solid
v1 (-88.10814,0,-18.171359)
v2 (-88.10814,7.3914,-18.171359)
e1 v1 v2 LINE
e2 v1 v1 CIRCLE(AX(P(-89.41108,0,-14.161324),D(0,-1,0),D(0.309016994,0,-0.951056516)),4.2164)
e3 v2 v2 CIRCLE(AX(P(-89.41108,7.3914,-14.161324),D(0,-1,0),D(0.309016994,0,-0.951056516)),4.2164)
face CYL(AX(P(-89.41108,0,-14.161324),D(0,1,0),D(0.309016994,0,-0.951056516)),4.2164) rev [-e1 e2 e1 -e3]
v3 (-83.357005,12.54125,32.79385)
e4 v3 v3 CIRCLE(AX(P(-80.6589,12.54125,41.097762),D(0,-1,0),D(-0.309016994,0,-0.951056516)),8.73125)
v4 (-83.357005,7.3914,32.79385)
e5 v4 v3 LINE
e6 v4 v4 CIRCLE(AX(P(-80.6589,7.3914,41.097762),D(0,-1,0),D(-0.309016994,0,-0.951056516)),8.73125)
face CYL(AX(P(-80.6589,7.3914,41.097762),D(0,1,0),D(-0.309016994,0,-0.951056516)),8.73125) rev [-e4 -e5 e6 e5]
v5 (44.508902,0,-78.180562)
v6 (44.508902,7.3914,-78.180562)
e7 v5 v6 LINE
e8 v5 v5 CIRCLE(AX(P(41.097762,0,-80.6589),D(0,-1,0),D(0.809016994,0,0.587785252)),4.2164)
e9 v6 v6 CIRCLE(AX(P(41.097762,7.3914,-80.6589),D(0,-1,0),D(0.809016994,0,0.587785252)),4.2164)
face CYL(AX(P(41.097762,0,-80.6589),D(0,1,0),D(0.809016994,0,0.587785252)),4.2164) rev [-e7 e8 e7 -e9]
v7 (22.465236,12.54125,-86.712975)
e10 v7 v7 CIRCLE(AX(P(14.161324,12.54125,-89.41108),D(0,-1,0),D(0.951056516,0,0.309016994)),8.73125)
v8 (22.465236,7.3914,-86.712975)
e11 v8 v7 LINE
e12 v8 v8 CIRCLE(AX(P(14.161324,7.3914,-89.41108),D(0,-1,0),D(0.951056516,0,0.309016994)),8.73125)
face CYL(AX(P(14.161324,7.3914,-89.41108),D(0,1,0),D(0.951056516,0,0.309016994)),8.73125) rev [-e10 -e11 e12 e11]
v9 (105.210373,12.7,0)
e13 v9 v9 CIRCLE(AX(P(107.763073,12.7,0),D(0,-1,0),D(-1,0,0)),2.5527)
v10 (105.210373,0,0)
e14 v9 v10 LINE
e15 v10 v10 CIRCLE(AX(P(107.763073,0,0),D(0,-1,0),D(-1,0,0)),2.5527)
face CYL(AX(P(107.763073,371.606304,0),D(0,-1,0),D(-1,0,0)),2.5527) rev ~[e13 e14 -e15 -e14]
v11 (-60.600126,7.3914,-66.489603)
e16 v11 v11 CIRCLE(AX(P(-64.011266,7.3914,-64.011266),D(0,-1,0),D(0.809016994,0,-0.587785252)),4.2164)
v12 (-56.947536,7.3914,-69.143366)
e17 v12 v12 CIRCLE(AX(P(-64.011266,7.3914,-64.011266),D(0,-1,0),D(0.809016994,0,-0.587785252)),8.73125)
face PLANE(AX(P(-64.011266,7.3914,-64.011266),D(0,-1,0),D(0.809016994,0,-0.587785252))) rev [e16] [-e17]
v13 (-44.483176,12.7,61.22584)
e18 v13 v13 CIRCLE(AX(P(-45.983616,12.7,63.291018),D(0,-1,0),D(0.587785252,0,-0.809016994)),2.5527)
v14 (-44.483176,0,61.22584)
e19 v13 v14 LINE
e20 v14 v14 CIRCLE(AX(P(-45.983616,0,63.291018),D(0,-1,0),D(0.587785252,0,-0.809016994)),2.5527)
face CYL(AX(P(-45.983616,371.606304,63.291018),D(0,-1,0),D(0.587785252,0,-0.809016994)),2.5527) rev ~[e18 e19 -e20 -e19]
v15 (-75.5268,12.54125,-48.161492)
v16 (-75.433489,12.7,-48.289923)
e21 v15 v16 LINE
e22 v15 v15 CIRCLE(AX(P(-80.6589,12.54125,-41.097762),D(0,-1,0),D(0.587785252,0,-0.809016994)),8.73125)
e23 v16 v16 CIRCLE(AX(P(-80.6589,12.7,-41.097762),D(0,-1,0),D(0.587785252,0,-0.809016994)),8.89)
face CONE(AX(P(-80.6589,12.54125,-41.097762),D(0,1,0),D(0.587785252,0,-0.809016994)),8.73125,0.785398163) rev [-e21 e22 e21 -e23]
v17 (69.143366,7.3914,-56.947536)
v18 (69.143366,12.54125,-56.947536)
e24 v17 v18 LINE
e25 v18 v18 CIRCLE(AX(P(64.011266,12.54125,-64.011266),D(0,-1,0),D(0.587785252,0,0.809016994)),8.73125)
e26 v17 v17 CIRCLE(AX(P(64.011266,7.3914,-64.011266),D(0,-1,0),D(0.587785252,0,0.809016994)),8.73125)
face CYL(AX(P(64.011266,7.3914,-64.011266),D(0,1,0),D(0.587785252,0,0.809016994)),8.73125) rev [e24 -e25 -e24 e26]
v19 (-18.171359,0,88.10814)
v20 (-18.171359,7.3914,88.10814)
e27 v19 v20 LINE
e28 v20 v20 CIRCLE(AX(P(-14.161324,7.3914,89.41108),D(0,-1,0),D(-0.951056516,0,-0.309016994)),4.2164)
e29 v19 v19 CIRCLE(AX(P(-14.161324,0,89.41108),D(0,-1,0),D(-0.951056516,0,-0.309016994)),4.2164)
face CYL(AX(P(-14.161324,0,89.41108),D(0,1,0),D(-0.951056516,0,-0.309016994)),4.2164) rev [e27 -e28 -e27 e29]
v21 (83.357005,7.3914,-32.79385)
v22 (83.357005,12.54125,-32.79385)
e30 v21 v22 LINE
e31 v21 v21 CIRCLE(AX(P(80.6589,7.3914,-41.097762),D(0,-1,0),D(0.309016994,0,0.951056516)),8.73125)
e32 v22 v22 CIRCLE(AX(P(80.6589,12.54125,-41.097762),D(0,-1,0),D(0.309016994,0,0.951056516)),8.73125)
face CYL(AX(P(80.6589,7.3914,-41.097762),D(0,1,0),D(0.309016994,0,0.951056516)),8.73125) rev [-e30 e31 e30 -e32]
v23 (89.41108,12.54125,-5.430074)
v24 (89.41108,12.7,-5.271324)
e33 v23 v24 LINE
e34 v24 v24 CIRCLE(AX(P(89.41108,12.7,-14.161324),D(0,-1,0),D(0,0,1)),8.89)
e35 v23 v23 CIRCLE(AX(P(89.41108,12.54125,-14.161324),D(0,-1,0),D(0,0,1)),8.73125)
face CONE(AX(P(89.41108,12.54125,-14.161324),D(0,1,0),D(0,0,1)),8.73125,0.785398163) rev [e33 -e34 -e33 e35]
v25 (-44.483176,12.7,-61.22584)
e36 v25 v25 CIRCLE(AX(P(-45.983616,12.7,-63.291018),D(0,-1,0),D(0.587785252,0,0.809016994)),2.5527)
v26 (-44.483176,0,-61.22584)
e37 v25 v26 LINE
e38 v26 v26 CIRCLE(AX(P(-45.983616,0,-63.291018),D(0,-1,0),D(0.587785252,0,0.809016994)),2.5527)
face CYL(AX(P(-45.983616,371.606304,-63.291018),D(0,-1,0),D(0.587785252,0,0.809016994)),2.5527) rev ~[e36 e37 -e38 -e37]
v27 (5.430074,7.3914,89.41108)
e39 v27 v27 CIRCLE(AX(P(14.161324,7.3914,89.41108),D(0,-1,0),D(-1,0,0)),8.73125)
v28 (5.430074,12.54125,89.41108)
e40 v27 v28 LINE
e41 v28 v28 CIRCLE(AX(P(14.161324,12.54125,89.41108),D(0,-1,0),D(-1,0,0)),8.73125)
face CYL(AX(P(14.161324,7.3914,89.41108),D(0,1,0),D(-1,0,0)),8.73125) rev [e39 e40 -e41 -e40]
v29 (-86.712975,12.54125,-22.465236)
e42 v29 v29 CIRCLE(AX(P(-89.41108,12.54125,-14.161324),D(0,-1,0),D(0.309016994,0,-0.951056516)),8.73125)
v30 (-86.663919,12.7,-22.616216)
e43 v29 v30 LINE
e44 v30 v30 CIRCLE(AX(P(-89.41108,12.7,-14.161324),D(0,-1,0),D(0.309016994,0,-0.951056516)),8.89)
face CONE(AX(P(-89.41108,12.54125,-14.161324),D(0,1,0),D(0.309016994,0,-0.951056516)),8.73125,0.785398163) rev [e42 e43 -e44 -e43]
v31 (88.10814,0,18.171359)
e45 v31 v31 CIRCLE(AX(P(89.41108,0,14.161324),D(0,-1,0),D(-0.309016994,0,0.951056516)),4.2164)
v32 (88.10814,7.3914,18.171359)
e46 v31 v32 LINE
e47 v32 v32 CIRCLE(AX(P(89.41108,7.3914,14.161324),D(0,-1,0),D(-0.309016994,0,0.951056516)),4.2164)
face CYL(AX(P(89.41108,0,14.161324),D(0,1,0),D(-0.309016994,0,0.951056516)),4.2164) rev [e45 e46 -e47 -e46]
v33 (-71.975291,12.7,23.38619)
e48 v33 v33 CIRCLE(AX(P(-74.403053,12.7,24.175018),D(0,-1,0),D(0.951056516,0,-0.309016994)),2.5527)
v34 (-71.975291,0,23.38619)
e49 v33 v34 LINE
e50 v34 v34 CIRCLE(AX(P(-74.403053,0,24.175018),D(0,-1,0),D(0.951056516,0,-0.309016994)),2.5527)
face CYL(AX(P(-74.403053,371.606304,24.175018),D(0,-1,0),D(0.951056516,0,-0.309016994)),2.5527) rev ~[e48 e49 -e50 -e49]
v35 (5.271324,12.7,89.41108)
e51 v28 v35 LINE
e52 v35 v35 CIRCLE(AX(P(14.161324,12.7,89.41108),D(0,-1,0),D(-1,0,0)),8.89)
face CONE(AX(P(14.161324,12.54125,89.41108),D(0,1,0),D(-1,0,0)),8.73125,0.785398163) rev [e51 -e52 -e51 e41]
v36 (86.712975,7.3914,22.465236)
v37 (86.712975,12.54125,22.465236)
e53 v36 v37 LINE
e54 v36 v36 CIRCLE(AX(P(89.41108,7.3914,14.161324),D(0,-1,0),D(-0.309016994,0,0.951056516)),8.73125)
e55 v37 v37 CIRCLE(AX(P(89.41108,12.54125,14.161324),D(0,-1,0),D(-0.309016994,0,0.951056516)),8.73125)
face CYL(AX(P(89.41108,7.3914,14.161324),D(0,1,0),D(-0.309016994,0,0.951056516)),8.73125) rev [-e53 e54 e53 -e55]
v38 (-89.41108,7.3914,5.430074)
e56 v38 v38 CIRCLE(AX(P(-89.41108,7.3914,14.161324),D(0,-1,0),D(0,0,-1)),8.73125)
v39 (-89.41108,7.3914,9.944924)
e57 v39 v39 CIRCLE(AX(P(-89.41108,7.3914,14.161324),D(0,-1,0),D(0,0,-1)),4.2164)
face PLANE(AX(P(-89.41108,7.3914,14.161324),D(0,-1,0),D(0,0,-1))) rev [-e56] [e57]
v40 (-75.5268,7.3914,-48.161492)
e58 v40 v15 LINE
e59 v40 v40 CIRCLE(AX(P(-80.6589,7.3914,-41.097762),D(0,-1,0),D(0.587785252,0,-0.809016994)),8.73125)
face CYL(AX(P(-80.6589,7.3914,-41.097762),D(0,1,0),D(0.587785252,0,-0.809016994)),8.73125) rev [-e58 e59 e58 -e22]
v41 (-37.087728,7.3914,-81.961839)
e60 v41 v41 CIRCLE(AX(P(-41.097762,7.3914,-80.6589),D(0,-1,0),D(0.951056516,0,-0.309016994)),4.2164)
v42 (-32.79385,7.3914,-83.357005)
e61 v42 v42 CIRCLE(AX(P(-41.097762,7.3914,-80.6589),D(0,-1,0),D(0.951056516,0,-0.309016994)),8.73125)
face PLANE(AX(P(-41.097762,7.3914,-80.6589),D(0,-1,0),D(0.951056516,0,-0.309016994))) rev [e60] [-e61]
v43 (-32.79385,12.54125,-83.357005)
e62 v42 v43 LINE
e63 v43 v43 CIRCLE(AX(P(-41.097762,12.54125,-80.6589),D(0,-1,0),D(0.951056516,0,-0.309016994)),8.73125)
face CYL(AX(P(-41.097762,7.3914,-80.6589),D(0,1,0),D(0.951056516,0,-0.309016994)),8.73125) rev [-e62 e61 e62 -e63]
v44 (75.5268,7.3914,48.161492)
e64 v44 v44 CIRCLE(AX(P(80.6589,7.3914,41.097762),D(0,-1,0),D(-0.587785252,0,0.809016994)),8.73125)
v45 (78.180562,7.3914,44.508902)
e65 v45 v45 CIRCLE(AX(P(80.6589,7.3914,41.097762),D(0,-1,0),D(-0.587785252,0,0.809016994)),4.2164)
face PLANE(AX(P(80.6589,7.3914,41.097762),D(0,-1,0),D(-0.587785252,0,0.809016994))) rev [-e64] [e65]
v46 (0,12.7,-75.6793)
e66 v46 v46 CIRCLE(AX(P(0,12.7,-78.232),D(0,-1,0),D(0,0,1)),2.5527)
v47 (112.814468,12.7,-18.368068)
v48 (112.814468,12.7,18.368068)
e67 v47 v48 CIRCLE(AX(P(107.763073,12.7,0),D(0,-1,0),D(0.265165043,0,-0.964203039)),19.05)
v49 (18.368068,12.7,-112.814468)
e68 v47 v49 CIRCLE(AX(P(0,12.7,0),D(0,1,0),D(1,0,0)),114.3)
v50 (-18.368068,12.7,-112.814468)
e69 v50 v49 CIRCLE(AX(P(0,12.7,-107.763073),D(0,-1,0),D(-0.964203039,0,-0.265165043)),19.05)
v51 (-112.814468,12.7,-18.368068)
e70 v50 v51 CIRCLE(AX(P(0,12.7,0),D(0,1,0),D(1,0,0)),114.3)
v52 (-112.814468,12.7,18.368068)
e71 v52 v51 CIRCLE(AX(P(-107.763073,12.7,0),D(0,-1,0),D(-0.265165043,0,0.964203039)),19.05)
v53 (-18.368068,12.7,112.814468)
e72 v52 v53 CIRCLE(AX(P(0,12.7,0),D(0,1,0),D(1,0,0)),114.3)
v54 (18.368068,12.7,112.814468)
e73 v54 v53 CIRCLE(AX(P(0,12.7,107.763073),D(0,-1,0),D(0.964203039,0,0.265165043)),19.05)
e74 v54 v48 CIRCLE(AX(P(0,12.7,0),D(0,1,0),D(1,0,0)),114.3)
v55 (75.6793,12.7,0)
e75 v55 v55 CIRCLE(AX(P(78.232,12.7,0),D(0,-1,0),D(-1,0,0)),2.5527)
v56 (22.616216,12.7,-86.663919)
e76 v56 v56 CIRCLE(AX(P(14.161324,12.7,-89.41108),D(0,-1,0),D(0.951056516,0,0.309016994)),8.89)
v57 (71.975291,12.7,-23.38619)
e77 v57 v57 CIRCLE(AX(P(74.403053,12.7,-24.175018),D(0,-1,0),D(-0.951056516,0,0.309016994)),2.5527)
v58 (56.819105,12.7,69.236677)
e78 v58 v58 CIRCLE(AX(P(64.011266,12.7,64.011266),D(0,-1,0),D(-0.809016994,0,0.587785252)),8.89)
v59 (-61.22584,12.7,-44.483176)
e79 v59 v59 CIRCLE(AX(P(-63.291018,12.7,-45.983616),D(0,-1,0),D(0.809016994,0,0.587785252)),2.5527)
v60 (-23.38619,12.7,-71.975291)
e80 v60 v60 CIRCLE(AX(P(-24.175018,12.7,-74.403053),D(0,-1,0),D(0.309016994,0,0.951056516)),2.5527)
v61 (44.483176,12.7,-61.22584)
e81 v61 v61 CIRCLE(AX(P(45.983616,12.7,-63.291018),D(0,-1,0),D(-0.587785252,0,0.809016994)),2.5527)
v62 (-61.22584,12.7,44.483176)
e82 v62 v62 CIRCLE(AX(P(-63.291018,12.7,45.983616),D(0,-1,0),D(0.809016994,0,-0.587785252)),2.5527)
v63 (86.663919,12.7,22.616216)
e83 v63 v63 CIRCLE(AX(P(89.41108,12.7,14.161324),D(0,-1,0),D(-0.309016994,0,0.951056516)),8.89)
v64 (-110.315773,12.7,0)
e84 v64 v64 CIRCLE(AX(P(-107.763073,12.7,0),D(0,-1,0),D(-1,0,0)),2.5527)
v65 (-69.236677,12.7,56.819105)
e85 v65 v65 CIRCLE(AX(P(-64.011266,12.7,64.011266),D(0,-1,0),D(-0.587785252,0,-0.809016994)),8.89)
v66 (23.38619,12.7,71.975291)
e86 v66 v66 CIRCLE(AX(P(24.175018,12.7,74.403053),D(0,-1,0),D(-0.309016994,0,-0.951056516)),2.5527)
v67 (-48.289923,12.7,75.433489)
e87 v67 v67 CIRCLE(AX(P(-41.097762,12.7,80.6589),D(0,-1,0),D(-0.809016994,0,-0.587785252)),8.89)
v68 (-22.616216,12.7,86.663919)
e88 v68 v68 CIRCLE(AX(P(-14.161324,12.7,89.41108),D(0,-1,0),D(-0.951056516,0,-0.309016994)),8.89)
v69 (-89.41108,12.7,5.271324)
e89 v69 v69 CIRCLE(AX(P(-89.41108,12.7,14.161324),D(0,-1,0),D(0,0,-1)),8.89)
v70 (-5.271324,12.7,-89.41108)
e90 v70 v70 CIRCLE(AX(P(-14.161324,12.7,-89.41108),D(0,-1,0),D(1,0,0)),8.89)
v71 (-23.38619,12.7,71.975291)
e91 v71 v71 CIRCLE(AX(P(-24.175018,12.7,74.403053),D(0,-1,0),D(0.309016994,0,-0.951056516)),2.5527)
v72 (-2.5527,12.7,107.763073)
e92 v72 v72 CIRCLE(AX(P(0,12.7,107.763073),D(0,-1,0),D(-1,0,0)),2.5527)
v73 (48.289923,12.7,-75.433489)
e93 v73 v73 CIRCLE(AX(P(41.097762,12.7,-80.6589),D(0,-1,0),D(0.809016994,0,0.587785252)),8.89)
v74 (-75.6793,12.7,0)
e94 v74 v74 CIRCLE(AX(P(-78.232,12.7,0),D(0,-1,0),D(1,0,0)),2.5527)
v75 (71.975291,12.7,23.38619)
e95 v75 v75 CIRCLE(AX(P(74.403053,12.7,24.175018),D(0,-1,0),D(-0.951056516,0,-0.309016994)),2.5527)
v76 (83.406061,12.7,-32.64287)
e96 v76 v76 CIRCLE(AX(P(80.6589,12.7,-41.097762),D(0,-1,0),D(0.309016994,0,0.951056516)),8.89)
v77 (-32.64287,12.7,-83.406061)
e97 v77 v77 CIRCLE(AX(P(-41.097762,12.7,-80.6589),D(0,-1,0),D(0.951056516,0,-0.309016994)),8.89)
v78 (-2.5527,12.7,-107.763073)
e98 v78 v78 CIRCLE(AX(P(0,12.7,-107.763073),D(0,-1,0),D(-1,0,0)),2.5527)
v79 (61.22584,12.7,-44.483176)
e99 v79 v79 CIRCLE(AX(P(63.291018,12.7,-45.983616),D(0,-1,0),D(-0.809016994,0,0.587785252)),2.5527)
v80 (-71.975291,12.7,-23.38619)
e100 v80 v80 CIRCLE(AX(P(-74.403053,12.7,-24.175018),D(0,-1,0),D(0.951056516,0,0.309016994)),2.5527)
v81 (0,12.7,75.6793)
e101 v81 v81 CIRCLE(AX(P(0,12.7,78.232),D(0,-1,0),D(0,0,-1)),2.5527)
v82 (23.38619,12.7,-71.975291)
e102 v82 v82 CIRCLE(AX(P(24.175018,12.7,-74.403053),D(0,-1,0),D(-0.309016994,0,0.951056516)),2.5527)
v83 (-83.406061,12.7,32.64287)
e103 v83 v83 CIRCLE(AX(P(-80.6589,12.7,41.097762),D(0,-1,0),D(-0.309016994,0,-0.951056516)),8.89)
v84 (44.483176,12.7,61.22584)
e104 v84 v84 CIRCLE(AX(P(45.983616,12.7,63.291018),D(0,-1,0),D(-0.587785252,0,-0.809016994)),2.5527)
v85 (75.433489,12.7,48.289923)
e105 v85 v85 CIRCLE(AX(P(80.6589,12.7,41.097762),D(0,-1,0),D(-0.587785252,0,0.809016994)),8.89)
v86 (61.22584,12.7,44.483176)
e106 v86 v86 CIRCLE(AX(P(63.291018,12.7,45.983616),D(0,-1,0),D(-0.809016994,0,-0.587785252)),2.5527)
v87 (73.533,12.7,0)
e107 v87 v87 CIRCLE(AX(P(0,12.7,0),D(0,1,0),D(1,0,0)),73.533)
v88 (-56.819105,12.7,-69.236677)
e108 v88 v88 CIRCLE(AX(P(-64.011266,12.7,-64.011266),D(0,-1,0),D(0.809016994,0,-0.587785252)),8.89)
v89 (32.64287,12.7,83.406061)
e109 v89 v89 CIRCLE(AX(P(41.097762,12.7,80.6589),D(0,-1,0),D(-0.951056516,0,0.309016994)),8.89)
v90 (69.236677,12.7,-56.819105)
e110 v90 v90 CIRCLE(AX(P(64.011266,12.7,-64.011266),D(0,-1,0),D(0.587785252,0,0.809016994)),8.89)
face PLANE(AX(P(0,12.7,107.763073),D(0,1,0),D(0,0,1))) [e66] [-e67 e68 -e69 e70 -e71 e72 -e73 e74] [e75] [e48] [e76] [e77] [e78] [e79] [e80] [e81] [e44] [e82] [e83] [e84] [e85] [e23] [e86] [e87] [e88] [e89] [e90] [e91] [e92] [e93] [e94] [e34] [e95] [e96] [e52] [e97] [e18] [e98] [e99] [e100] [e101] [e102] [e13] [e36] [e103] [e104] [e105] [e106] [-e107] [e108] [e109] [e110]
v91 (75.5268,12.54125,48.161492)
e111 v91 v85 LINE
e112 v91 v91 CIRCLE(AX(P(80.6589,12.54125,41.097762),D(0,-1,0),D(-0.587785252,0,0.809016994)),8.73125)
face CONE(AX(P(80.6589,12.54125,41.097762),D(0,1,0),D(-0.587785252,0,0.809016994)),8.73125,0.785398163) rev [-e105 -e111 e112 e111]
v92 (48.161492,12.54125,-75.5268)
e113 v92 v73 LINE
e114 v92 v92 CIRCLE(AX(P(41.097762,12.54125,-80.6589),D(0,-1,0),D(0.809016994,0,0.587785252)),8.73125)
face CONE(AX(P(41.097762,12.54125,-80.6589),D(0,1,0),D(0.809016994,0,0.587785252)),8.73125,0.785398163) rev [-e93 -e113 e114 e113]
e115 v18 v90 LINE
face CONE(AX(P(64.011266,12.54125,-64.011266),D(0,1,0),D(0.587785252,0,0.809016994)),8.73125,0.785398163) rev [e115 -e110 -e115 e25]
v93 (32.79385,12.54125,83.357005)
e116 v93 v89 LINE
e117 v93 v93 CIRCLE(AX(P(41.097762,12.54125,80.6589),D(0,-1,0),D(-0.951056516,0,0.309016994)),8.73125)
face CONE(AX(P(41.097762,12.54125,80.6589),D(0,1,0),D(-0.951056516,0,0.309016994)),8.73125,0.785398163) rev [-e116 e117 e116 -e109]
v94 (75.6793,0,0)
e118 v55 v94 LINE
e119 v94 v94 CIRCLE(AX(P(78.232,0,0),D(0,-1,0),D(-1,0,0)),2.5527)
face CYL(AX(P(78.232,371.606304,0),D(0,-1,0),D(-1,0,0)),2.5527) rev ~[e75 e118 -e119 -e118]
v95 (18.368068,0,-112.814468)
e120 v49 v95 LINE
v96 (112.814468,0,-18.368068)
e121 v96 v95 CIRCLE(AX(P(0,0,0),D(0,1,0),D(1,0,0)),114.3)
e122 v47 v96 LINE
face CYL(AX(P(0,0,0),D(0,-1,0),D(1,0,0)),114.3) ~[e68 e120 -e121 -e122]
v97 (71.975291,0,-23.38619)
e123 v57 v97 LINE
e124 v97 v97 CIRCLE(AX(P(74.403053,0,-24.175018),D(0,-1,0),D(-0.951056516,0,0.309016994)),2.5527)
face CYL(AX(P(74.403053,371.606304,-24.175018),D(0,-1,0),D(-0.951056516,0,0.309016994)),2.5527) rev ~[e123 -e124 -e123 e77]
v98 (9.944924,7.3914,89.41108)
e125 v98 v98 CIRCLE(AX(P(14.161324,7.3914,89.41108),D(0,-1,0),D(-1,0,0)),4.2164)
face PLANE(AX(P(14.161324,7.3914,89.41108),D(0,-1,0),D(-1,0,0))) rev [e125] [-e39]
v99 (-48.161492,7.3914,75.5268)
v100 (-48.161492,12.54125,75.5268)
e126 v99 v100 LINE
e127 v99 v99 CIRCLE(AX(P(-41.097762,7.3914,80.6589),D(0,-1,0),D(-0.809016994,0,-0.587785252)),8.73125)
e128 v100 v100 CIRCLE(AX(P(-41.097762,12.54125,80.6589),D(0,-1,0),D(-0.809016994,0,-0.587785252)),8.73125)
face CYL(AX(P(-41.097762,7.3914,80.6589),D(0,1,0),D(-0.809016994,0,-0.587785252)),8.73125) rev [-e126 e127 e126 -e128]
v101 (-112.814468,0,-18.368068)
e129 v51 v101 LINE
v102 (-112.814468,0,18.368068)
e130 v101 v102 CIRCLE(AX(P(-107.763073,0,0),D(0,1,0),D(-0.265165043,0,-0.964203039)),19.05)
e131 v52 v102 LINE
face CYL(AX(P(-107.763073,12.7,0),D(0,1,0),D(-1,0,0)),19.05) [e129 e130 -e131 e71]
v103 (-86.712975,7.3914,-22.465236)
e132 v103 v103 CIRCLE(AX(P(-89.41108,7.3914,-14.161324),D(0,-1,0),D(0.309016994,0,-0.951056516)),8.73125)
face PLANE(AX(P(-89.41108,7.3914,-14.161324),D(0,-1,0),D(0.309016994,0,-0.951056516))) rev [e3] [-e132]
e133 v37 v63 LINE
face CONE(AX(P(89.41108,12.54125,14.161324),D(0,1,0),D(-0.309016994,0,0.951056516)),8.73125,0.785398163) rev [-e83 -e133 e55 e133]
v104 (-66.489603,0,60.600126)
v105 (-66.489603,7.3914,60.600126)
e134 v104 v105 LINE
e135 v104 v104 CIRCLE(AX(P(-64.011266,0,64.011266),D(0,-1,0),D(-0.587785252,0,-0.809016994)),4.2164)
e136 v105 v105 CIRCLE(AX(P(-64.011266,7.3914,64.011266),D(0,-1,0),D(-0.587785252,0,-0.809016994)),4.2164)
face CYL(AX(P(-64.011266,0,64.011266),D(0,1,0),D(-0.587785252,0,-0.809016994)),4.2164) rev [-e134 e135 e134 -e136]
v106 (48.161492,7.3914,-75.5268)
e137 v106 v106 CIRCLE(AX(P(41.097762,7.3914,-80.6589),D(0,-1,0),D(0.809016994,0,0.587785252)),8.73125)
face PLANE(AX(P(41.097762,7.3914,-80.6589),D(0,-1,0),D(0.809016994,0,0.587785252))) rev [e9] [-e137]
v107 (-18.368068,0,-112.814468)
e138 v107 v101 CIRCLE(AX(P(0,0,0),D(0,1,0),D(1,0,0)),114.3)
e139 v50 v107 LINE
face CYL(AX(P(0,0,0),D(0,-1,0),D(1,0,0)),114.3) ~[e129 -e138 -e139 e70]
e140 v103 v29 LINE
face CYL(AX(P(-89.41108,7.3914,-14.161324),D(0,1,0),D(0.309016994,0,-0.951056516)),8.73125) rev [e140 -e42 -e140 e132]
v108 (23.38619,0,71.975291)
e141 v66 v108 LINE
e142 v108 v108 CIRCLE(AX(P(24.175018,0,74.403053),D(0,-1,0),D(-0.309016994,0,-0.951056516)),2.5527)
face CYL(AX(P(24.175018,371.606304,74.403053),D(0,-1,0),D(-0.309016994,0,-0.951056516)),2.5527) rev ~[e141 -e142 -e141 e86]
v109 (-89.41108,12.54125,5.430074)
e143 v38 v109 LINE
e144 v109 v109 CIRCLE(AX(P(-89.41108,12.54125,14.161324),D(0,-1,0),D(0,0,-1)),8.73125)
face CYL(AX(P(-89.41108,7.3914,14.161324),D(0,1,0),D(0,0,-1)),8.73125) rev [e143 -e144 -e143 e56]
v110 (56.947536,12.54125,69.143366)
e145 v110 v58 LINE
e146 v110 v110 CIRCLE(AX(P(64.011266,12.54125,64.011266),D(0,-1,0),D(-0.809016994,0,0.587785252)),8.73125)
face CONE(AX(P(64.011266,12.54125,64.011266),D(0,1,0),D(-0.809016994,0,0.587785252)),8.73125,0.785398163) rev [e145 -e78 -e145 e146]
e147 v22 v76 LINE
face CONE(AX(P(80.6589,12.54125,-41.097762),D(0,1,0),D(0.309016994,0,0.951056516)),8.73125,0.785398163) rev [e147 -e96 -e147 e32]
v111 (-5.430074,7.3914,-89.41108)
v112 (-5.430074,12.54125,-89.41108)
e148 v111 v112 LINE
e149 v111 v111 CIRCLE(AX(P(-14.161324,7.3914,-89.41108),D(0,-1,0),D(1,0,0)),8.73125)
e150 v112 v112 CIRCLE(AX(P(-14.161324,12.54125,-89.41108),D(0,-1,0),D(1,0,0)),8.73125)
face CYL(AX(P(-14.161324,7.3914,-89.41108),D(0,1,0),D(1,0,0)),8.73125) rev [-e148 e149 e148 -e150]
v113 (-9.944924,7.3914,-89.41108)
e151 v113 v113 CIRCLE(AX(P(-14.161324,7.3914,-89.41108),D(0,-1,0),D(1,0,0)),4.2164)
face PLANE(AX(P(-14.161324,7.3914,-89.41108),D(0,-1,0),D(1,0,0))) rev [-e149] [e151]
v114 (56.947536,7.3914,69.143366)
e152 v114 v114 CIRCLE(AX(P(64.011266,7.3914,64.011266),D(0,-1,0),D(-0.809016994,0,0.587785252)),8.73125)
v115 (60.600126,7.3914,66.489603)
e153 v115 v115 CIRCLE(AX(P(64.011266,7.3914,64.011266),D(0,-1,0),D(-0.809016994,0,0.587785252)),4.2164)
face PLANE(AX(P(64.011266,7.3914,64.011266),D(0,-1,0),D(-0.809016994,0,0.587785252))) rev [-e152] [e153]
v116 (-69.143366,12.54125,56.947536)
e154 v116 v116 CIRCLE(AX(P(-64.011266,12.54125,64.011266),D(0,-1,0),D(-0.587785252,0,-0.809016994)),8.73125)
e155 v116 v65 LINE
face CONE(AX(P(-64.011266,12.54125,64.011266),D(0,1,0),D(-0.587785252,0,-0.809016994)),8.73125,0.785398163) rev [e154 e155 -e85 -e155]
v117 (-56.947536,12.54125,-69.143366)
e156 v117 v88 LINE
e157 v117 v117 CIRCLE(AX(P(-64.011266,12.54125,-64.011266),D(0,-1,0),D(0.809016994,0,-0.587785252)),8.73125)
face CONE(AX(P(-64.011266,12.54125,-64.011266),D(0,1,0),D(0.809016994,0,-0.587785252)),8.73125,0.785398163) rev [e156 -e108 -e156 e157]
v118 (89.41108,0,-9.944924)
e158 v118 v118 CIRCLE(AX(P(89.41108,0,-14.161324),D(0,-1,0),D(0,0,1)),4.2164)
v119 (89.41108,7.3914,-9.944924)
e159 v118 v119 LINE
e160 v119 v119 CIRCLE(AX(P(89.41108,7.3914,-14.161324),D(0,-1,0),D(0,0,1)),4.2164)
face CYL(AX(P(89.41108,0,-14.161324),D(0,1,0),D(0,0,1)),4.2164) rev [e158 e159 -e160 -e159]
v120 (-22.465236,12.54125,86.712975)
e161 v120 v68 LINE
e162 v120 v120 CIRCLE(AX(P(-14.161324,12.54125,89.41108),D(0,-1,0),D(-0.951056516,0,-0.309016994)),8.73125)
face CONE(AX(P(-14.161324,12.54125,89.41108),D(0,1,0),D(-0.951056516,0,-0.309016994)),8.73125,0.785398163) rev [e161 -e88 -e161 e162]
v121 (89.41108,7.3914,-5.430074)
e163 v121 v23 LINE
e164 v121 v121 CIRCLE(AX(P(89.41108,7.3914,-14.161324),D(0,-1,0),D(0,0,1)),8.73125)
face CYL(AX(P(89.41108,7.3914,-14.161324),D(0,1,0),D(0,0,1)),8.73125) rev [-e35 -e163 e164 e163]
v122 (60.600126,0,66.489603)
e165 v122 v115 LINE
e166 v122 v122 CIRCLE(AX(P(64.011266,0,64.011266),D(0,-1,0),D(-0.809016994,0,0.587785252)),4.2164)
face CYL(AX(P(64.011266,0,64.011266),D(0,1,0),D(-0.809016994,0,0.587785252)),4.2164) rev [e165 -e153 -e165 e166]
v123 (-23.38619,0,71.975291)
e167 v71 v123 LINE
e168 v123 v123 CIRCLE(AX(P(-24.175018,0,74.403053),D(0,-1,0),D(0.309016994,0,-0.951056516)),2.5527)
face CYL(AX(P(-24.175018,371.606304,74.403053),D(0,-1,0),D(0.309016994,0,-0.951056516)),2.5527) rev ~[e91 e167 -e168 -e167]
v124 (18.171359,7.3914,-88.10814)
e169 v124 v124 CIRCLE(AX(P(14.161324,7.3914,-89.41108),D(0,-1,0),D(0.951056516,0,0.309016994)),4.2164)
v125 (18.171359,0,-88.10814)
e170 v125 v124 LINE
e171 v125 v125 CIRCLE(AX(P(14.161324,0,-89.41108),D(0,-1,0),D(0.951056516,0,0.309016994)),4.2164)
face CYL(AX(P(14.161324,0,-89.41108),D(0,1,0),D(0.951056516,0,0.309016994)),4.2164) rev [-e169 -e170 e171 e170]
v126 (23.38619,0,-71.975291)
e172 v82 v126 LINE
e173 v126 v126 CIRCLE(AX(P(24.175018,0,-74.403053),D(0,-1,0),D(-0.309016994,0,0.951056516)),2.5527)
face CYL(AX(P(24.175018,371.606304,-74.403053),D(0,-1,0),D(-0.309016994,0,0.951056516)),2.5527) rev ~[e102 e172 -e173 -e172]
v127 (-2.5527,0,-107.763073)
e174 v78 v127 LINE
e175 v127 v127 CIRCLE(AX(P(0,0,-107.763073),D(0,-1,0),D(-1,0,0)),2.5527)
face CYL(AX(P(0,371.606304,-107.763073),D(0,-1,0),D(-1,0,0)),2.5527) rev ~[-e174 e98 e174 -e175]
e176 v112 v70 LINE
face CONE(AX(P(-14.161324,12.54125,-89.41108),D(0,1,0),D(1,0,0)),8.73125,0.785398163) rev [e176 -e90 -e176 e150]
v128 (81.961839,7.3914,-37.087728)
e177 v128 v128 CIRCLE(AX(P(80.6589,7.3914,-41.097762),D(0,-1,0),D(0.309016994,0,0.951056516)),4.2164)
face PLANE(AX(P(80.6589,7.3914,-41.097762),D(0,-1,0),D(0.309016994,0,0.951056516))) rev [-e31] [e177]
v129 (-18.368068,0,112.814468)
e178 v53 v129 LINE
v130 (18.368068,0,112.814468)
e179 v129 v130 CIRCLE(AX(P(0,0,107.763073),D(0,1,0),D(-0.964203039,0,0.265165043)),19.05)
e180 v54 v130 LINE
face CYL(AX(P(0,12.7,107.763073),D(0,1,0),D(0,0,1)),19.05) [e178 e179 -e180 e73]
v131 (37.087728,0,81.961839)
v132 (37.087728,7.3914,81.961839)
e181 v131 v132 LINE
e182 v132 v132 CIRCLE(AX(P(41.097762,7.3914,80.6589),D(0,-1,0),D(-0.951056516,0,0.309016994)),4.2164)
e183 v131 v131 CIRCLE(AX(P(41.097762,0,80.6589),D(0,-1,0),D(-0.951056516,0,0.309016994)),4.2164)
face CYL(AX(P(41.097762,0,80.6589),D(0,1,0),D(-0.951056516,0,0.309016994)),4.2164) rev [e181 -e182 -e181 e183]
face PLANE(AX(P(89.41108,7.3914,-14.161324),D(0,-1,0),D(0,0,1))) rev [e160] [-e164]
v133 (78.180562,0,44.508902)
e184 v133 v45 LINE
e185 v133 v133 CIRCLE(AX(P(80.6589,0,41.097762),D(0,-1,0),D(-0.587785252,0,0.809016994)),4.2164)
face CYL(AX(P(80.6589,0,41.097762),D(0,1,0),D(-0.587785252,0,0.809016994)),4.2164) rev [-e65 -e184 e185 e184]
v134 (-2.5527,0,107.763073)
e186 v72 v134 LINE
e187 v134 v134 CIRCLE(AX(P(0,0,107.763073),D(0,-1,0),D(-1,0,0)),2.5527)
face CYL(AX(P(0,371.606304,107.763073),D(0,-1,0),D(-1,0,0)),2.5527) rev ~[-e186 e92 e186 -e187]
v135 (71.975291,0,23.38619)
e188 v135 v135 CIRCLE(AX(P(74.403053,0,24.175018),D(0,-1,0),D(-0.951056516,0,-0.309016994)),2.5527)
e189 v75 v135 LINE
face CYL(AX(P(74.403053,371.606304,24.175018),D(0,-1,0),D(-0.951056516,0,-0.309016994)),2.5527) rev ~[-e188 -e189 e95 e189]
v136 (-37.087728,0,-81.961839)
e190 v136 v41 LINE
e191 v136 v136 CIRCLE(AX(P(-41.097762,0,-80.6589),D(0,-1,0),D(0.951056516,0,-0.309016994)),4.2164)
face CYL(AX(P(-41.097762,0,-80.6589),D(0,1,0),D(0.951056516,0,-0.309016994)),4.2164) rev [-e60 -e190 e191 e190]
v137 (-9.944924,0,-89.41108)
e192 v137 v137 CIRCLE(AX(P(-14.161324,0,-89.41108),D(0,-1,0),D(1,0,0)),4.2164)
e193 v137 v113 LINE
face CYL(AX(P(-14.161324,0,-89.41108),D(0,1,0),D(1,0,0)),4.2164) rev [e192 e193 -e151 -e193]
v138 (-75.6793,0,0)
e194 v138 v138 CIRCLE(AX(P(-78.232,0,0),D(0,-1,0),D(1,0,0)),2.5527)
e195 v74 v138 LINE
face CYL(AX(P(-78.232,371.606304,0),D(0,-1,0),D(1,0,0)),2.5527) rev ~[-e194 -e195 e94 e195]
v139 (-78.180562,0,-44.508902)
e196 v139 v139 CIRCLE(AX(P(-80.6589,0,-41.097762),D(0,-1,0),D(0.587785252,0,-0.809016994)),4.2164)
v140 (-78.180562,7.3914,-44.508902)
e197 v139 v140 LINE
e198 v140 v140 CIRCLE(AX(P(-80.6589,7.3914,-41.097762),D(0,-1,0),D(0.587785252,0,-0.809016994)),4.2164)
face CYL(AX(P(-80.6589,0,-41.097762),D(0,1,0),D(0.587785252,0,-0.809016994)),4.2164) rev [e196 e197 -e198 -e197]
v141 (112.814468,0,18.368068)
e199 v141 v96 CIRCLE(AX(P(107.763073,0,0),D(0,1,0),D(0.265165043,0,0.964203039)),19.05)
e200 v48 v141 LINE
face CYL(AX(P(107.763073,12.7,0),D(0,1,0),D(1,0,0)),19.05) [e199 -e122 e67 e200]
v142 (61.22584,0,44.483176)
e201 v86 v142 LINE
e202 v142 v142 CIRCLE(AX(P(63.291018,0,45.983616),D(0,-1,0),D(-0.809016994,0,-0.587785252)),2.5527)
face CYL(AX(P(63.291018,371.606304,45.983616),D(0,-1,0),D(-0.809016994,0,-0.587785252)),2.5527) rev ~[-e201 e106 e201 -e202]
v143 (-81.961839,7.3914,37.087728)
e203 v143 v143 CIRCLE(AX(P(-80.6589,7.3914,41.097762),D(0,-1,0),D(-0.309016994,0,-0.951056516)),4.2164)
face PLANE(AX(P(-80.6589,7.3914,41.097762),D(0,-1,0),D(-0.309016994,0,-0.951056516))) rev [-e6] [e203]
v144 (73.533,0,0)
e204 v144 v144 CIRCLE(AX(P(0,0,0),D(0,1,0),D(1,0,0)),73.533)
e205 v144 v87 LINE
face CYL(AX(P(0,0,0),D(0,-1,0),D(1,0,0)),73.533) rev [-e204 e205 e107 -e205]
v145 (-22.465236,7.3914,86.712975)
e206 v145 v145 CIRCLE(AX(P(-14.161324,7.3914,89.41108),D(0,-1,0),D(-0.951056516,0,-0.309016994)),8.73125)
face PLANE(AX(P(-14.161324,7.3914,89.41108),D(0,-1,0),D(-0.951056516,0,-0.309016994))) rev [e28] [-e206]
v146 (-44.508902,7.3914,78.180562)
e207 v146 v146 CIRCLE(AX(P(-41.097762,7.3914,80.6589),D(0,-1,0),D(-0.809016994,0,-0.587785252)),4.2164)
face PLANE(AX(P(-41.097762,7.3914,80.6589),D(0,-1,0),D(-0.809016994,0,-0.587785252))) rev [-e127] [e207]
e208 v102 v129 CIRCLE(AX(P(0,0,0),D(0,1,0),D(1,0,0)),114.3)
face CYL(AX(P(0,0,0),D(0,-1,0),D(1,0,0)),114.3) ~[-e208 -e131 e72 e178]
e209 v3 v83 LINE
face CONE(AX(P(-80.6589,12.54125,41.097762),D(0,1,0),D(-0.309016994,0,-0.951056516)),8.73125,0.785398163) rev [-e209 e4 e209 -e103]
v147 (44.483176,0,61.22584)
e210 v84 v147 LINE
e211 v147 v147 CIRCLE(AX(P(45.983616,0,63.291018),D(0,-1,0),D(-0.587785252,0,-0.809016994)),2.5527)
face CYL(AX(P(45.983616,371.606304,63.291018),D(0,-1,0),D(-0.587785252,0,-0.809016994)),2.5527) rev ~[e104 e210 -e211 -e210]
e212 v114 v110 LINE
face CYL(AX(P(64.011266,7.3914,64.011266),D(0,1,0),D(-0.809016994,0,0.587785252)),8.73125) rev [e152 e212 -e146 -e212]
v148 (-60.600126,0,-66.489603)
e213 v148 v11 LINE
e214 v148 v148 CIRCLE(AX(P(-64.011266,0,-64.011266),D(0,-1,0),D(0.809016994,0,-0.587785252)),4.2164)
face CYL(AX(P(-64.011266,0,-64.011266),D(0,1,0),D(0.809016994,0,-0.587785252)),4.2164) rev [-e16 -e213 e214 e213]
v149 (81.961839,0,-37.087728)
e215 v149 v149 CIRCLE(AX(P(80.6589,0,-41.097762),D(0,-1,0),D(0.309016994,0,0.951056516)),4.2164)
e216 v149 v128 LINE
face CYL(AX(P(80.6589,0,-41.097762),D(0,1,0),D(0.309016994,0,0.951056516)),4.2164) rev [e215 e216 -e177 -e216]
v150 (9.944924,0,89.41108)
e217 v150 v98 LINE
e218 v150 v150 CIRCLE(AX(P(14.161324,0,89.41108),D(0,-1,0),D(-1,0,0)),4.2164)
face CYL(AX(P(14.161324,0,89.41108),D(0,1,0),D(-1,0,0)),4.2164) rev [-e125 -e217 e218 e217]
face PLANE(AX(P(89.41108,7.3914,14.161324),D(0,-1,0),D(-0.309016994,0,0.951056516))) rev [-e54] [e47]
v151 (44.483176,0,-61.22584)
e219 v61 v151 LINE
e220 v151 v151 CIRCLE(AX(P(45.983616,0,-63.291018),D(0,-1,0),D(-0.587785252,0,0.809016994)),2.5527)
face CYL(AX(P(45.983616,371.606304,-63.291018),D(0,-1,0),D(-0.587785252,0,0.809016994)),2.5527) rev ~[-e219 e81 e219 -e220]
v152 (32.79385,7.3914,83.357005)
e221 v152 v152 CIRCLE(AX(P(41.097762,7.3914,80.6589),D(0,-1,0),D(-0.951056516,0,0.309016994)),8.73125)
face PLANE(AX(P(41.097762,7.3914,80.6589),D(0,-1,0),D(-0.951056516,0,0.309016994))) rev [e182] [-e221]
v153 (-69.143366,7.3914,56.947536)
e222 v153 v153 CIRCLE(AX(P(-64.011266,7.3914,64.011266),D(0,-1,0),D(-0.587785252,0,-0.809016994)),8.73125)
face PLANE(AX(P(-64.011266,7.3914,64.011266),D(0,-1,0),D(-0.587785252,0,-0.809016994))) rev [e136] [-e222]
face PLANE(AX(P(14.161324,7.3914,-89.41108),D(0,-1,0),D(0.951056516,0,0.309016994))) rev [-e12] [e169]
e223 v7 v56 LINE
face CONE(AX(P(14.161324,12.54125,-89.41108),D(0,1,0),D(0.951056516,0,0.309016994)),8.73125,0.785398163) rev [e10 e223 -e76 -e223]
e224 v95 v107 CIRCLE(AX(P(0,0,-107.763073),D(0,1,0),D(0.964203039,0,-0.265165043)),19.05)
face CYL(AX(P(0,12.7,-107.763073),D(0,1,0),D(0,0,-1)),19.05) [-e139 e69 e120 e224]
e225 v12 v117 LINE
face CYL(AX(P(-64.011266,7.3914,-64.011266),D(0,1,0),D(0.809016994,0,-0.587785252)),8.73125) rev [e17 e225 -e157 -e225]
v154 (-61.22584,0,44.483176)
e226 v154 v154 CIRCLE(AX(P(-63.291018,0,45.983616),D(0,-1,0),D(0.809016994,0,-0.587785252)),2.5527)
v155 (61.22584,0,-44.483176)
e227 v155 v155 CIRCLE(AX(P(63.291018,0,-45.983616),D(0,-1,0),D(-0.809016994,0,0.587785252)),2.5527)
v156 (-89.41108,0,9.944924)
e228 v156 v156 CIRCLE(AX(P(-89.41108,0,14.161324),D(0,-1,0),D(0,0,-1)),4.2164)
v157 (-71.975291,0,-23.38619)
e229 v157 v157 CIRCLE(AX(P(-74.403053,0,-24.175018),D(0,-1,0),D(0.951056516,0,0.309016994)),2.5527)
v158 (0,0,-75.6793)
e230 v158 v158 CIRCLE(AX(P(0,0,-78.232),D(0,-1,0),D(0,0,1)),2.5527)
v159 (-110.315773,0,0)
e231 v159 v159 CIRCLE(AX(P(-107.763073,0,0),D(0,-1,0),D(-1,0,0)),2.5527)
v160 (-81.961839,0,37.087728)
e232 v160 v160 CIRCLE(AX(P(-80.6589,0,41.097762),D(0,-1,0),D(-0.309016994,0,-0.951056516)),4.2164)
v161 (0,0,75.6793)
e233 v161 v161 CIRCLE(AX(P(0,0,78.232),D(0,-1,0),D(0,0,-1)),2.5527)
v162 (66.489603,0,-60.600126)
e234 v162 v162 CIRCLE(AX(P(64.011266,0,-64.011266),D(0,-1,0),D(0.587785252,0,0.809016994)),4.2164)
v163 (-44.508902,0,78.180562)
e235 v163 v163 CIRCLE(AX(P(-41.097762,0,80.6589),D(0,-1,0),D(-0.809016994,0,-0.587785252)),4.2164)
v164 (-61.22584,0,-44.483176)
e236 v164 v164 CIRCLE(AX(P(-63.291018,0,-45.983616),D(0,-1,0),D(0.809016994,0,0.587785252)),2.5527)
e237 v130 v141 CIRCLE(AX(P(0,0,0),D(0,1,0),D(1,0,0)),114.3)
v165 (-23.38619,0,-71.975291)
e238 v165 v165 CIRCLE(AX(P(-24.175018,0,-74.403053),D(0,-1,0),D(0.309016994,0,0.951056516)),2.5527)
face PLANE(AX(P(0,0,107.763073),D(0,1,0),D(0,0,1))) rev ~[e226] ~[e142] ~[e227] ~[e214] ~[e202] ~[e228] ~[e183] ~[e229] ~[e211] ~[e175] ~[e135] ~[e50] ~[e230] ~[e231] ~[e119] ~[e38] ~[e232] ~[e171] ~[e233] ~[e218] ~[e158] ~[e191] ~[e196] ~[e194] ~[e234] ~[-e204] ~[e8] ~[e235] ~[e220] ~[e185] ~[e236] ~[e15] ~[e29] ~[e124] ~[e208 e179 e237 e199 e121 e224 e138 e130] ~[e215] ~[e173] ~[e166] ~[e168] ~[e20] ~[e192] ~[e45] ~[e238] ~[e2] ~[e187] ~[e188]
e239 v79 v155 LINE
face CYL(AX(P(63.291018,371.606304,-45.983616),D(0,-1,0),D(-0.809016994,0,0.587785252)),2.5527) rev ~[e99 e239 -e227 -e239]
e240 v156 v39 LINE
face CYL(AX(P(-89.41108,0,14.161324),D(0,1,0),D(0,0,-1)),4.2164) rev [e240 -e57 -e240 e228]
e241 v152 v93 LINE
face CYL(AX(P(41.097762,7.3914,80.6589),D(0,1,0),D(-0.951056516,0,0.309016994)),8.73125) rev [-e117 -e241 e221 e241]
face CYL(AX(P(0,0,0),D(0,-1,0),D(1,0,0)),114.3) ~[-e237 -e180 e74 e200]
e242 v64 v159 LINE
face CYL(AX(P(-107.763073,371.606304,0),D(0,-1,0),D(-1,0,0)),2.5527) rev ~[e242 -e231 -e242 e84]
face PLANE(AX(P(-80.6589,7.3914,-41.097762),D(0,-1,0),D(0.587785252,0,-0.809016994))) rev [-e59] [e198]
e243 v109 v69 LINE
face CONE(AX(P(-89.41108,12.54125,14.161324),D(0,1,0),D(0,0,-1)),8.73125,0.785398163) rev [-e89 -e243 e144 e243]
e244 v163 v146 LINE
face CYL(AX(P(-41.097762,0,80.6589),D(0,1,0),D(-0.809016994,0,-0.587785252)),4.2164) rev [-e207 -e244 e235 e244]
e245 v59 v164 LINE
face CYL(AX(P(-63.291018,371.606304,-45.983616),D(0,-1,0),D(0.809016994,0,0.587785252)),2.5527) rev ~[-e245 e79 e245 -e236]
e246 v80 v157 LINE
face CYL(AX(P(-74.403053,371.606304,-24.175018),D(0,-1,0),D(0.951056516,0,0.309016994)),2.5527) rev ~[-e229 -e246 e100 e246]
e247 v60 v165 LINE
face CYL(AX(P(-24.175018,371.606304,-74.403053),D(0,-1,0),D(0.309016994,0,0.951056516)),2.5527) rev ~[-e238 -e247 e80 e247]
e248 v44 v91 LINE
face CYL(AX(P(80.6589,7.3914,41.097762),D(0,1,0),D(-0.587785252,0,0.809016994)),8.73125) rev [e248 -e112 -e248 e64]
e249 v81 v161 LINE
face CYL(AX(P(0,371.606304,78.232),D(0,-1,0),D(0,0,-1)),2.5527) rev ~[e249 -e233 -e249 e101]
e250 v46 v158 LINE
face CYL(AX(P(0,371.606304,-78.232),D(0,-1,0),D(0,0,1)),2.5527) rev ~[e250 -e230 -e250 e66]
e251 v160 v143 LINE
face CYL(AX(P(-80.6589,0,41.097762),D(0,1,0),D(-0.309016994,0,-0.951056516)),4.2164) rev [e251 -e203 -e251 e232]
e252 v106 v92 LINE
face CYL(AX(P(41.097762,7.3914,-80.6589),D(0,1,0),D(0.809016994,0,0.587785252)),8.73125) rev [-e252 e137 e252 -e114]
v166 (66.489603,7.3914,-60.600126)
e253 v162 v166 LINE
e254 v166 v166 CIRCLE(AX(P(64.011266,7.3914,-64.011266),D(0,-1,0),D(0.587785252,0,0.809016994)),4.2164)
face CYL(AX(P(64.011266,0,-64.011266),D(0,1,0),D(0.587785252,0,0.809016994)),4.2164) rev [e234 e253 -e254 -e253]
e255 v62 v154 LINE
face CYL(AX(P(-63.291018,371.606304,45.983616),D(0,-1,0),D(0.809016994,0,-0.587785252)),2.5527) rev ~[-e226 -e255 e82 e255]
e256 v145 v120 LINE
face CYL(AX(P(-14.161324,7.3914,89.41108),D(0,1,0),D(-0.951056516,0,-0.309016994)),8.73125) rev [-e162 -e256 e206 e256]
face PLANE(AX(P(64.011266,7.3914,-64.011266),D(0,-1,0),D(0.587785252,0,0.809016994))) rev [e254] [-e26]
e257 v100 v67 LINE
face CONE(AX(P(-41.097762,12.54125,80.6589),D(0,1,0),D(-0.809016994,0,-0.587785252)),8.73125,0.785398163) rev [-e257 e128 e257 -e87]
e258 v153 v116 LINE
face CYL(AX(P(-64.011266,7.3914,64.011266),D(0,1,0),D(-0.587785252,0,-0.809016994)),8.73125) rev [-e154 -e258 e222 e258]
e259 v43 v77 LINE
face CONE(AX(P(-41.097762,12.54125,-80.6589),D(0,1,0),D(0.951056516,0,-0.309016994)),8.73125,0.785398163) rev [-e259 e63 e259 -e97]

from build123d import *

# Parameters (mm, degrees)
SKETCH3_R               = 114.3
SKETCH3_R_2             = 73.533
BOSS_EXTRUDE1_DEPTH     = 12.7
SKETCH16_R              = 19.05
BOSS_EXTRUDE2_DEPTH     = 12.7
CIRPATTERN6_COUNT       = 4
CIRPATTERN2_COUNT       = 20
F_1_4_20_TAPPED_HOLE2_D = 5.1054
CIRPATTERN4_COUNT       = 20
F_1_4_20_TAPPED_HOLE3_D = 5.1054


with BuildPart() as part:
    # Sketch3 → Boss-Extrude1 (new body)
    with BuildSketch(Plane(origin=(0, 0, 0), x_dir=(1, 0, 0), z_dir=(0, 1, 0))):
        Circle(SKETCH3_R)
        Circle(SKETCH3_R_2, mode=Mode.SUBTRACT)
    extrude(amount=BOSS_EXTRUDE1_DEPTH)

    # Sketch16 → Boss-Extrude2 (add)
    with BuildSketch(Plane(origin=(0, 12.7, 0), x_dir=(1, 0, 0), z_dir=(0, 1, 0))):
        with Locations((107.763073453, 0)):
            Circle(SKETCH16_R)
    boss_extrude2 = extrude(amount=-BOSS_EXTRUDE2_DEPTH)

    # CirPattern6: Boss-Extrude2 ×4 about axis
    cirpattern6_axis = Axis((0, 12.7, 0), (0, -1, 0))
    for i in range(1, CIRPATTERN6_COUNT):
        add(boss_extrude2.rotate(cirpattern6_axis, i * 360 / CIRPATTERN6_COUNT))

    # Sketch8 → CBORE for 5/16 Binding Head Machine Screw1 (revolve, cut)
    with BuildSketch(Plane(origin=(89.411079645, 12.7, -14.161323808), x_dir=(0, 0, 1), z_dir=(1, 0, 0))):
        Polygon((0, 0), (0, 12.7), (4.2164, 12.7), (4.2164, 5.3086), (8.73125, 5.3086), (8.73125, 0.15875), (8.89, 0), align=None)
    cbore_for_5_16_binding_head_machine_scre = revolve(axis=Axis((89.411079645, 19.05, -14.161323808), (0, -1, 0)), mode=Mode.SUBTRACT)

    # CirPattern2: CBORE for 5/16 Binding Head Machine Screw1 ×20 about axis
    cirpattern2_axis = Axis((0, 12.7, 0), (0, -1, 0))
    for i in range(1, CIRPATTERN2_COUNT):
        add(cbore_for_5_16_binding_head_machine_scre.rotate(cirpattern2_axis, i * 360 / CIRPATTERN2_COUNT), mode=Mode.SUBTRACT)

    # 1/4-20 Tapped Hole2 (through all)
    with Locations(Plane(origin=(0, 12.7, 0), x_dir=(1, 0, 0), z_dir=(0, 1, 0))):
        with Locations((78.232, 0)):
            f_1_4_20_tapped_hole2 = Hole(F_1_4_20_TAPPED_HOLE2_D / 2)

    # CirPattern4: 1/4-20 Tapped Hole2 ×20 about axis
    cirpattern4_axis = Axis((0, 12.7, 0), (0, -1, 0))
    for i in range(1, CIRPATTERN4_COUNT):
        add(f_1_4_20_tapped_hole2.rotate(cirpattern4_axis, i * 360 / CIRPATTERN4_COUNT), mode=Mode.SUBTRACT)

    # 1/4-20 Tapped Hole3 (through all)
    with Locations(Plane(origin=(0, 12.7, 0), x_dir=(1, 0, 0), z_dir=(0, 1, 0))):
        with Locations((107.763073453, 0), (0, -107.763073453), (-107.763073453, 0), (0, 107.763073453)):
            Hole(F_1_4_20_TAPPED_HOLE3_D / 2)


solid = part.part
